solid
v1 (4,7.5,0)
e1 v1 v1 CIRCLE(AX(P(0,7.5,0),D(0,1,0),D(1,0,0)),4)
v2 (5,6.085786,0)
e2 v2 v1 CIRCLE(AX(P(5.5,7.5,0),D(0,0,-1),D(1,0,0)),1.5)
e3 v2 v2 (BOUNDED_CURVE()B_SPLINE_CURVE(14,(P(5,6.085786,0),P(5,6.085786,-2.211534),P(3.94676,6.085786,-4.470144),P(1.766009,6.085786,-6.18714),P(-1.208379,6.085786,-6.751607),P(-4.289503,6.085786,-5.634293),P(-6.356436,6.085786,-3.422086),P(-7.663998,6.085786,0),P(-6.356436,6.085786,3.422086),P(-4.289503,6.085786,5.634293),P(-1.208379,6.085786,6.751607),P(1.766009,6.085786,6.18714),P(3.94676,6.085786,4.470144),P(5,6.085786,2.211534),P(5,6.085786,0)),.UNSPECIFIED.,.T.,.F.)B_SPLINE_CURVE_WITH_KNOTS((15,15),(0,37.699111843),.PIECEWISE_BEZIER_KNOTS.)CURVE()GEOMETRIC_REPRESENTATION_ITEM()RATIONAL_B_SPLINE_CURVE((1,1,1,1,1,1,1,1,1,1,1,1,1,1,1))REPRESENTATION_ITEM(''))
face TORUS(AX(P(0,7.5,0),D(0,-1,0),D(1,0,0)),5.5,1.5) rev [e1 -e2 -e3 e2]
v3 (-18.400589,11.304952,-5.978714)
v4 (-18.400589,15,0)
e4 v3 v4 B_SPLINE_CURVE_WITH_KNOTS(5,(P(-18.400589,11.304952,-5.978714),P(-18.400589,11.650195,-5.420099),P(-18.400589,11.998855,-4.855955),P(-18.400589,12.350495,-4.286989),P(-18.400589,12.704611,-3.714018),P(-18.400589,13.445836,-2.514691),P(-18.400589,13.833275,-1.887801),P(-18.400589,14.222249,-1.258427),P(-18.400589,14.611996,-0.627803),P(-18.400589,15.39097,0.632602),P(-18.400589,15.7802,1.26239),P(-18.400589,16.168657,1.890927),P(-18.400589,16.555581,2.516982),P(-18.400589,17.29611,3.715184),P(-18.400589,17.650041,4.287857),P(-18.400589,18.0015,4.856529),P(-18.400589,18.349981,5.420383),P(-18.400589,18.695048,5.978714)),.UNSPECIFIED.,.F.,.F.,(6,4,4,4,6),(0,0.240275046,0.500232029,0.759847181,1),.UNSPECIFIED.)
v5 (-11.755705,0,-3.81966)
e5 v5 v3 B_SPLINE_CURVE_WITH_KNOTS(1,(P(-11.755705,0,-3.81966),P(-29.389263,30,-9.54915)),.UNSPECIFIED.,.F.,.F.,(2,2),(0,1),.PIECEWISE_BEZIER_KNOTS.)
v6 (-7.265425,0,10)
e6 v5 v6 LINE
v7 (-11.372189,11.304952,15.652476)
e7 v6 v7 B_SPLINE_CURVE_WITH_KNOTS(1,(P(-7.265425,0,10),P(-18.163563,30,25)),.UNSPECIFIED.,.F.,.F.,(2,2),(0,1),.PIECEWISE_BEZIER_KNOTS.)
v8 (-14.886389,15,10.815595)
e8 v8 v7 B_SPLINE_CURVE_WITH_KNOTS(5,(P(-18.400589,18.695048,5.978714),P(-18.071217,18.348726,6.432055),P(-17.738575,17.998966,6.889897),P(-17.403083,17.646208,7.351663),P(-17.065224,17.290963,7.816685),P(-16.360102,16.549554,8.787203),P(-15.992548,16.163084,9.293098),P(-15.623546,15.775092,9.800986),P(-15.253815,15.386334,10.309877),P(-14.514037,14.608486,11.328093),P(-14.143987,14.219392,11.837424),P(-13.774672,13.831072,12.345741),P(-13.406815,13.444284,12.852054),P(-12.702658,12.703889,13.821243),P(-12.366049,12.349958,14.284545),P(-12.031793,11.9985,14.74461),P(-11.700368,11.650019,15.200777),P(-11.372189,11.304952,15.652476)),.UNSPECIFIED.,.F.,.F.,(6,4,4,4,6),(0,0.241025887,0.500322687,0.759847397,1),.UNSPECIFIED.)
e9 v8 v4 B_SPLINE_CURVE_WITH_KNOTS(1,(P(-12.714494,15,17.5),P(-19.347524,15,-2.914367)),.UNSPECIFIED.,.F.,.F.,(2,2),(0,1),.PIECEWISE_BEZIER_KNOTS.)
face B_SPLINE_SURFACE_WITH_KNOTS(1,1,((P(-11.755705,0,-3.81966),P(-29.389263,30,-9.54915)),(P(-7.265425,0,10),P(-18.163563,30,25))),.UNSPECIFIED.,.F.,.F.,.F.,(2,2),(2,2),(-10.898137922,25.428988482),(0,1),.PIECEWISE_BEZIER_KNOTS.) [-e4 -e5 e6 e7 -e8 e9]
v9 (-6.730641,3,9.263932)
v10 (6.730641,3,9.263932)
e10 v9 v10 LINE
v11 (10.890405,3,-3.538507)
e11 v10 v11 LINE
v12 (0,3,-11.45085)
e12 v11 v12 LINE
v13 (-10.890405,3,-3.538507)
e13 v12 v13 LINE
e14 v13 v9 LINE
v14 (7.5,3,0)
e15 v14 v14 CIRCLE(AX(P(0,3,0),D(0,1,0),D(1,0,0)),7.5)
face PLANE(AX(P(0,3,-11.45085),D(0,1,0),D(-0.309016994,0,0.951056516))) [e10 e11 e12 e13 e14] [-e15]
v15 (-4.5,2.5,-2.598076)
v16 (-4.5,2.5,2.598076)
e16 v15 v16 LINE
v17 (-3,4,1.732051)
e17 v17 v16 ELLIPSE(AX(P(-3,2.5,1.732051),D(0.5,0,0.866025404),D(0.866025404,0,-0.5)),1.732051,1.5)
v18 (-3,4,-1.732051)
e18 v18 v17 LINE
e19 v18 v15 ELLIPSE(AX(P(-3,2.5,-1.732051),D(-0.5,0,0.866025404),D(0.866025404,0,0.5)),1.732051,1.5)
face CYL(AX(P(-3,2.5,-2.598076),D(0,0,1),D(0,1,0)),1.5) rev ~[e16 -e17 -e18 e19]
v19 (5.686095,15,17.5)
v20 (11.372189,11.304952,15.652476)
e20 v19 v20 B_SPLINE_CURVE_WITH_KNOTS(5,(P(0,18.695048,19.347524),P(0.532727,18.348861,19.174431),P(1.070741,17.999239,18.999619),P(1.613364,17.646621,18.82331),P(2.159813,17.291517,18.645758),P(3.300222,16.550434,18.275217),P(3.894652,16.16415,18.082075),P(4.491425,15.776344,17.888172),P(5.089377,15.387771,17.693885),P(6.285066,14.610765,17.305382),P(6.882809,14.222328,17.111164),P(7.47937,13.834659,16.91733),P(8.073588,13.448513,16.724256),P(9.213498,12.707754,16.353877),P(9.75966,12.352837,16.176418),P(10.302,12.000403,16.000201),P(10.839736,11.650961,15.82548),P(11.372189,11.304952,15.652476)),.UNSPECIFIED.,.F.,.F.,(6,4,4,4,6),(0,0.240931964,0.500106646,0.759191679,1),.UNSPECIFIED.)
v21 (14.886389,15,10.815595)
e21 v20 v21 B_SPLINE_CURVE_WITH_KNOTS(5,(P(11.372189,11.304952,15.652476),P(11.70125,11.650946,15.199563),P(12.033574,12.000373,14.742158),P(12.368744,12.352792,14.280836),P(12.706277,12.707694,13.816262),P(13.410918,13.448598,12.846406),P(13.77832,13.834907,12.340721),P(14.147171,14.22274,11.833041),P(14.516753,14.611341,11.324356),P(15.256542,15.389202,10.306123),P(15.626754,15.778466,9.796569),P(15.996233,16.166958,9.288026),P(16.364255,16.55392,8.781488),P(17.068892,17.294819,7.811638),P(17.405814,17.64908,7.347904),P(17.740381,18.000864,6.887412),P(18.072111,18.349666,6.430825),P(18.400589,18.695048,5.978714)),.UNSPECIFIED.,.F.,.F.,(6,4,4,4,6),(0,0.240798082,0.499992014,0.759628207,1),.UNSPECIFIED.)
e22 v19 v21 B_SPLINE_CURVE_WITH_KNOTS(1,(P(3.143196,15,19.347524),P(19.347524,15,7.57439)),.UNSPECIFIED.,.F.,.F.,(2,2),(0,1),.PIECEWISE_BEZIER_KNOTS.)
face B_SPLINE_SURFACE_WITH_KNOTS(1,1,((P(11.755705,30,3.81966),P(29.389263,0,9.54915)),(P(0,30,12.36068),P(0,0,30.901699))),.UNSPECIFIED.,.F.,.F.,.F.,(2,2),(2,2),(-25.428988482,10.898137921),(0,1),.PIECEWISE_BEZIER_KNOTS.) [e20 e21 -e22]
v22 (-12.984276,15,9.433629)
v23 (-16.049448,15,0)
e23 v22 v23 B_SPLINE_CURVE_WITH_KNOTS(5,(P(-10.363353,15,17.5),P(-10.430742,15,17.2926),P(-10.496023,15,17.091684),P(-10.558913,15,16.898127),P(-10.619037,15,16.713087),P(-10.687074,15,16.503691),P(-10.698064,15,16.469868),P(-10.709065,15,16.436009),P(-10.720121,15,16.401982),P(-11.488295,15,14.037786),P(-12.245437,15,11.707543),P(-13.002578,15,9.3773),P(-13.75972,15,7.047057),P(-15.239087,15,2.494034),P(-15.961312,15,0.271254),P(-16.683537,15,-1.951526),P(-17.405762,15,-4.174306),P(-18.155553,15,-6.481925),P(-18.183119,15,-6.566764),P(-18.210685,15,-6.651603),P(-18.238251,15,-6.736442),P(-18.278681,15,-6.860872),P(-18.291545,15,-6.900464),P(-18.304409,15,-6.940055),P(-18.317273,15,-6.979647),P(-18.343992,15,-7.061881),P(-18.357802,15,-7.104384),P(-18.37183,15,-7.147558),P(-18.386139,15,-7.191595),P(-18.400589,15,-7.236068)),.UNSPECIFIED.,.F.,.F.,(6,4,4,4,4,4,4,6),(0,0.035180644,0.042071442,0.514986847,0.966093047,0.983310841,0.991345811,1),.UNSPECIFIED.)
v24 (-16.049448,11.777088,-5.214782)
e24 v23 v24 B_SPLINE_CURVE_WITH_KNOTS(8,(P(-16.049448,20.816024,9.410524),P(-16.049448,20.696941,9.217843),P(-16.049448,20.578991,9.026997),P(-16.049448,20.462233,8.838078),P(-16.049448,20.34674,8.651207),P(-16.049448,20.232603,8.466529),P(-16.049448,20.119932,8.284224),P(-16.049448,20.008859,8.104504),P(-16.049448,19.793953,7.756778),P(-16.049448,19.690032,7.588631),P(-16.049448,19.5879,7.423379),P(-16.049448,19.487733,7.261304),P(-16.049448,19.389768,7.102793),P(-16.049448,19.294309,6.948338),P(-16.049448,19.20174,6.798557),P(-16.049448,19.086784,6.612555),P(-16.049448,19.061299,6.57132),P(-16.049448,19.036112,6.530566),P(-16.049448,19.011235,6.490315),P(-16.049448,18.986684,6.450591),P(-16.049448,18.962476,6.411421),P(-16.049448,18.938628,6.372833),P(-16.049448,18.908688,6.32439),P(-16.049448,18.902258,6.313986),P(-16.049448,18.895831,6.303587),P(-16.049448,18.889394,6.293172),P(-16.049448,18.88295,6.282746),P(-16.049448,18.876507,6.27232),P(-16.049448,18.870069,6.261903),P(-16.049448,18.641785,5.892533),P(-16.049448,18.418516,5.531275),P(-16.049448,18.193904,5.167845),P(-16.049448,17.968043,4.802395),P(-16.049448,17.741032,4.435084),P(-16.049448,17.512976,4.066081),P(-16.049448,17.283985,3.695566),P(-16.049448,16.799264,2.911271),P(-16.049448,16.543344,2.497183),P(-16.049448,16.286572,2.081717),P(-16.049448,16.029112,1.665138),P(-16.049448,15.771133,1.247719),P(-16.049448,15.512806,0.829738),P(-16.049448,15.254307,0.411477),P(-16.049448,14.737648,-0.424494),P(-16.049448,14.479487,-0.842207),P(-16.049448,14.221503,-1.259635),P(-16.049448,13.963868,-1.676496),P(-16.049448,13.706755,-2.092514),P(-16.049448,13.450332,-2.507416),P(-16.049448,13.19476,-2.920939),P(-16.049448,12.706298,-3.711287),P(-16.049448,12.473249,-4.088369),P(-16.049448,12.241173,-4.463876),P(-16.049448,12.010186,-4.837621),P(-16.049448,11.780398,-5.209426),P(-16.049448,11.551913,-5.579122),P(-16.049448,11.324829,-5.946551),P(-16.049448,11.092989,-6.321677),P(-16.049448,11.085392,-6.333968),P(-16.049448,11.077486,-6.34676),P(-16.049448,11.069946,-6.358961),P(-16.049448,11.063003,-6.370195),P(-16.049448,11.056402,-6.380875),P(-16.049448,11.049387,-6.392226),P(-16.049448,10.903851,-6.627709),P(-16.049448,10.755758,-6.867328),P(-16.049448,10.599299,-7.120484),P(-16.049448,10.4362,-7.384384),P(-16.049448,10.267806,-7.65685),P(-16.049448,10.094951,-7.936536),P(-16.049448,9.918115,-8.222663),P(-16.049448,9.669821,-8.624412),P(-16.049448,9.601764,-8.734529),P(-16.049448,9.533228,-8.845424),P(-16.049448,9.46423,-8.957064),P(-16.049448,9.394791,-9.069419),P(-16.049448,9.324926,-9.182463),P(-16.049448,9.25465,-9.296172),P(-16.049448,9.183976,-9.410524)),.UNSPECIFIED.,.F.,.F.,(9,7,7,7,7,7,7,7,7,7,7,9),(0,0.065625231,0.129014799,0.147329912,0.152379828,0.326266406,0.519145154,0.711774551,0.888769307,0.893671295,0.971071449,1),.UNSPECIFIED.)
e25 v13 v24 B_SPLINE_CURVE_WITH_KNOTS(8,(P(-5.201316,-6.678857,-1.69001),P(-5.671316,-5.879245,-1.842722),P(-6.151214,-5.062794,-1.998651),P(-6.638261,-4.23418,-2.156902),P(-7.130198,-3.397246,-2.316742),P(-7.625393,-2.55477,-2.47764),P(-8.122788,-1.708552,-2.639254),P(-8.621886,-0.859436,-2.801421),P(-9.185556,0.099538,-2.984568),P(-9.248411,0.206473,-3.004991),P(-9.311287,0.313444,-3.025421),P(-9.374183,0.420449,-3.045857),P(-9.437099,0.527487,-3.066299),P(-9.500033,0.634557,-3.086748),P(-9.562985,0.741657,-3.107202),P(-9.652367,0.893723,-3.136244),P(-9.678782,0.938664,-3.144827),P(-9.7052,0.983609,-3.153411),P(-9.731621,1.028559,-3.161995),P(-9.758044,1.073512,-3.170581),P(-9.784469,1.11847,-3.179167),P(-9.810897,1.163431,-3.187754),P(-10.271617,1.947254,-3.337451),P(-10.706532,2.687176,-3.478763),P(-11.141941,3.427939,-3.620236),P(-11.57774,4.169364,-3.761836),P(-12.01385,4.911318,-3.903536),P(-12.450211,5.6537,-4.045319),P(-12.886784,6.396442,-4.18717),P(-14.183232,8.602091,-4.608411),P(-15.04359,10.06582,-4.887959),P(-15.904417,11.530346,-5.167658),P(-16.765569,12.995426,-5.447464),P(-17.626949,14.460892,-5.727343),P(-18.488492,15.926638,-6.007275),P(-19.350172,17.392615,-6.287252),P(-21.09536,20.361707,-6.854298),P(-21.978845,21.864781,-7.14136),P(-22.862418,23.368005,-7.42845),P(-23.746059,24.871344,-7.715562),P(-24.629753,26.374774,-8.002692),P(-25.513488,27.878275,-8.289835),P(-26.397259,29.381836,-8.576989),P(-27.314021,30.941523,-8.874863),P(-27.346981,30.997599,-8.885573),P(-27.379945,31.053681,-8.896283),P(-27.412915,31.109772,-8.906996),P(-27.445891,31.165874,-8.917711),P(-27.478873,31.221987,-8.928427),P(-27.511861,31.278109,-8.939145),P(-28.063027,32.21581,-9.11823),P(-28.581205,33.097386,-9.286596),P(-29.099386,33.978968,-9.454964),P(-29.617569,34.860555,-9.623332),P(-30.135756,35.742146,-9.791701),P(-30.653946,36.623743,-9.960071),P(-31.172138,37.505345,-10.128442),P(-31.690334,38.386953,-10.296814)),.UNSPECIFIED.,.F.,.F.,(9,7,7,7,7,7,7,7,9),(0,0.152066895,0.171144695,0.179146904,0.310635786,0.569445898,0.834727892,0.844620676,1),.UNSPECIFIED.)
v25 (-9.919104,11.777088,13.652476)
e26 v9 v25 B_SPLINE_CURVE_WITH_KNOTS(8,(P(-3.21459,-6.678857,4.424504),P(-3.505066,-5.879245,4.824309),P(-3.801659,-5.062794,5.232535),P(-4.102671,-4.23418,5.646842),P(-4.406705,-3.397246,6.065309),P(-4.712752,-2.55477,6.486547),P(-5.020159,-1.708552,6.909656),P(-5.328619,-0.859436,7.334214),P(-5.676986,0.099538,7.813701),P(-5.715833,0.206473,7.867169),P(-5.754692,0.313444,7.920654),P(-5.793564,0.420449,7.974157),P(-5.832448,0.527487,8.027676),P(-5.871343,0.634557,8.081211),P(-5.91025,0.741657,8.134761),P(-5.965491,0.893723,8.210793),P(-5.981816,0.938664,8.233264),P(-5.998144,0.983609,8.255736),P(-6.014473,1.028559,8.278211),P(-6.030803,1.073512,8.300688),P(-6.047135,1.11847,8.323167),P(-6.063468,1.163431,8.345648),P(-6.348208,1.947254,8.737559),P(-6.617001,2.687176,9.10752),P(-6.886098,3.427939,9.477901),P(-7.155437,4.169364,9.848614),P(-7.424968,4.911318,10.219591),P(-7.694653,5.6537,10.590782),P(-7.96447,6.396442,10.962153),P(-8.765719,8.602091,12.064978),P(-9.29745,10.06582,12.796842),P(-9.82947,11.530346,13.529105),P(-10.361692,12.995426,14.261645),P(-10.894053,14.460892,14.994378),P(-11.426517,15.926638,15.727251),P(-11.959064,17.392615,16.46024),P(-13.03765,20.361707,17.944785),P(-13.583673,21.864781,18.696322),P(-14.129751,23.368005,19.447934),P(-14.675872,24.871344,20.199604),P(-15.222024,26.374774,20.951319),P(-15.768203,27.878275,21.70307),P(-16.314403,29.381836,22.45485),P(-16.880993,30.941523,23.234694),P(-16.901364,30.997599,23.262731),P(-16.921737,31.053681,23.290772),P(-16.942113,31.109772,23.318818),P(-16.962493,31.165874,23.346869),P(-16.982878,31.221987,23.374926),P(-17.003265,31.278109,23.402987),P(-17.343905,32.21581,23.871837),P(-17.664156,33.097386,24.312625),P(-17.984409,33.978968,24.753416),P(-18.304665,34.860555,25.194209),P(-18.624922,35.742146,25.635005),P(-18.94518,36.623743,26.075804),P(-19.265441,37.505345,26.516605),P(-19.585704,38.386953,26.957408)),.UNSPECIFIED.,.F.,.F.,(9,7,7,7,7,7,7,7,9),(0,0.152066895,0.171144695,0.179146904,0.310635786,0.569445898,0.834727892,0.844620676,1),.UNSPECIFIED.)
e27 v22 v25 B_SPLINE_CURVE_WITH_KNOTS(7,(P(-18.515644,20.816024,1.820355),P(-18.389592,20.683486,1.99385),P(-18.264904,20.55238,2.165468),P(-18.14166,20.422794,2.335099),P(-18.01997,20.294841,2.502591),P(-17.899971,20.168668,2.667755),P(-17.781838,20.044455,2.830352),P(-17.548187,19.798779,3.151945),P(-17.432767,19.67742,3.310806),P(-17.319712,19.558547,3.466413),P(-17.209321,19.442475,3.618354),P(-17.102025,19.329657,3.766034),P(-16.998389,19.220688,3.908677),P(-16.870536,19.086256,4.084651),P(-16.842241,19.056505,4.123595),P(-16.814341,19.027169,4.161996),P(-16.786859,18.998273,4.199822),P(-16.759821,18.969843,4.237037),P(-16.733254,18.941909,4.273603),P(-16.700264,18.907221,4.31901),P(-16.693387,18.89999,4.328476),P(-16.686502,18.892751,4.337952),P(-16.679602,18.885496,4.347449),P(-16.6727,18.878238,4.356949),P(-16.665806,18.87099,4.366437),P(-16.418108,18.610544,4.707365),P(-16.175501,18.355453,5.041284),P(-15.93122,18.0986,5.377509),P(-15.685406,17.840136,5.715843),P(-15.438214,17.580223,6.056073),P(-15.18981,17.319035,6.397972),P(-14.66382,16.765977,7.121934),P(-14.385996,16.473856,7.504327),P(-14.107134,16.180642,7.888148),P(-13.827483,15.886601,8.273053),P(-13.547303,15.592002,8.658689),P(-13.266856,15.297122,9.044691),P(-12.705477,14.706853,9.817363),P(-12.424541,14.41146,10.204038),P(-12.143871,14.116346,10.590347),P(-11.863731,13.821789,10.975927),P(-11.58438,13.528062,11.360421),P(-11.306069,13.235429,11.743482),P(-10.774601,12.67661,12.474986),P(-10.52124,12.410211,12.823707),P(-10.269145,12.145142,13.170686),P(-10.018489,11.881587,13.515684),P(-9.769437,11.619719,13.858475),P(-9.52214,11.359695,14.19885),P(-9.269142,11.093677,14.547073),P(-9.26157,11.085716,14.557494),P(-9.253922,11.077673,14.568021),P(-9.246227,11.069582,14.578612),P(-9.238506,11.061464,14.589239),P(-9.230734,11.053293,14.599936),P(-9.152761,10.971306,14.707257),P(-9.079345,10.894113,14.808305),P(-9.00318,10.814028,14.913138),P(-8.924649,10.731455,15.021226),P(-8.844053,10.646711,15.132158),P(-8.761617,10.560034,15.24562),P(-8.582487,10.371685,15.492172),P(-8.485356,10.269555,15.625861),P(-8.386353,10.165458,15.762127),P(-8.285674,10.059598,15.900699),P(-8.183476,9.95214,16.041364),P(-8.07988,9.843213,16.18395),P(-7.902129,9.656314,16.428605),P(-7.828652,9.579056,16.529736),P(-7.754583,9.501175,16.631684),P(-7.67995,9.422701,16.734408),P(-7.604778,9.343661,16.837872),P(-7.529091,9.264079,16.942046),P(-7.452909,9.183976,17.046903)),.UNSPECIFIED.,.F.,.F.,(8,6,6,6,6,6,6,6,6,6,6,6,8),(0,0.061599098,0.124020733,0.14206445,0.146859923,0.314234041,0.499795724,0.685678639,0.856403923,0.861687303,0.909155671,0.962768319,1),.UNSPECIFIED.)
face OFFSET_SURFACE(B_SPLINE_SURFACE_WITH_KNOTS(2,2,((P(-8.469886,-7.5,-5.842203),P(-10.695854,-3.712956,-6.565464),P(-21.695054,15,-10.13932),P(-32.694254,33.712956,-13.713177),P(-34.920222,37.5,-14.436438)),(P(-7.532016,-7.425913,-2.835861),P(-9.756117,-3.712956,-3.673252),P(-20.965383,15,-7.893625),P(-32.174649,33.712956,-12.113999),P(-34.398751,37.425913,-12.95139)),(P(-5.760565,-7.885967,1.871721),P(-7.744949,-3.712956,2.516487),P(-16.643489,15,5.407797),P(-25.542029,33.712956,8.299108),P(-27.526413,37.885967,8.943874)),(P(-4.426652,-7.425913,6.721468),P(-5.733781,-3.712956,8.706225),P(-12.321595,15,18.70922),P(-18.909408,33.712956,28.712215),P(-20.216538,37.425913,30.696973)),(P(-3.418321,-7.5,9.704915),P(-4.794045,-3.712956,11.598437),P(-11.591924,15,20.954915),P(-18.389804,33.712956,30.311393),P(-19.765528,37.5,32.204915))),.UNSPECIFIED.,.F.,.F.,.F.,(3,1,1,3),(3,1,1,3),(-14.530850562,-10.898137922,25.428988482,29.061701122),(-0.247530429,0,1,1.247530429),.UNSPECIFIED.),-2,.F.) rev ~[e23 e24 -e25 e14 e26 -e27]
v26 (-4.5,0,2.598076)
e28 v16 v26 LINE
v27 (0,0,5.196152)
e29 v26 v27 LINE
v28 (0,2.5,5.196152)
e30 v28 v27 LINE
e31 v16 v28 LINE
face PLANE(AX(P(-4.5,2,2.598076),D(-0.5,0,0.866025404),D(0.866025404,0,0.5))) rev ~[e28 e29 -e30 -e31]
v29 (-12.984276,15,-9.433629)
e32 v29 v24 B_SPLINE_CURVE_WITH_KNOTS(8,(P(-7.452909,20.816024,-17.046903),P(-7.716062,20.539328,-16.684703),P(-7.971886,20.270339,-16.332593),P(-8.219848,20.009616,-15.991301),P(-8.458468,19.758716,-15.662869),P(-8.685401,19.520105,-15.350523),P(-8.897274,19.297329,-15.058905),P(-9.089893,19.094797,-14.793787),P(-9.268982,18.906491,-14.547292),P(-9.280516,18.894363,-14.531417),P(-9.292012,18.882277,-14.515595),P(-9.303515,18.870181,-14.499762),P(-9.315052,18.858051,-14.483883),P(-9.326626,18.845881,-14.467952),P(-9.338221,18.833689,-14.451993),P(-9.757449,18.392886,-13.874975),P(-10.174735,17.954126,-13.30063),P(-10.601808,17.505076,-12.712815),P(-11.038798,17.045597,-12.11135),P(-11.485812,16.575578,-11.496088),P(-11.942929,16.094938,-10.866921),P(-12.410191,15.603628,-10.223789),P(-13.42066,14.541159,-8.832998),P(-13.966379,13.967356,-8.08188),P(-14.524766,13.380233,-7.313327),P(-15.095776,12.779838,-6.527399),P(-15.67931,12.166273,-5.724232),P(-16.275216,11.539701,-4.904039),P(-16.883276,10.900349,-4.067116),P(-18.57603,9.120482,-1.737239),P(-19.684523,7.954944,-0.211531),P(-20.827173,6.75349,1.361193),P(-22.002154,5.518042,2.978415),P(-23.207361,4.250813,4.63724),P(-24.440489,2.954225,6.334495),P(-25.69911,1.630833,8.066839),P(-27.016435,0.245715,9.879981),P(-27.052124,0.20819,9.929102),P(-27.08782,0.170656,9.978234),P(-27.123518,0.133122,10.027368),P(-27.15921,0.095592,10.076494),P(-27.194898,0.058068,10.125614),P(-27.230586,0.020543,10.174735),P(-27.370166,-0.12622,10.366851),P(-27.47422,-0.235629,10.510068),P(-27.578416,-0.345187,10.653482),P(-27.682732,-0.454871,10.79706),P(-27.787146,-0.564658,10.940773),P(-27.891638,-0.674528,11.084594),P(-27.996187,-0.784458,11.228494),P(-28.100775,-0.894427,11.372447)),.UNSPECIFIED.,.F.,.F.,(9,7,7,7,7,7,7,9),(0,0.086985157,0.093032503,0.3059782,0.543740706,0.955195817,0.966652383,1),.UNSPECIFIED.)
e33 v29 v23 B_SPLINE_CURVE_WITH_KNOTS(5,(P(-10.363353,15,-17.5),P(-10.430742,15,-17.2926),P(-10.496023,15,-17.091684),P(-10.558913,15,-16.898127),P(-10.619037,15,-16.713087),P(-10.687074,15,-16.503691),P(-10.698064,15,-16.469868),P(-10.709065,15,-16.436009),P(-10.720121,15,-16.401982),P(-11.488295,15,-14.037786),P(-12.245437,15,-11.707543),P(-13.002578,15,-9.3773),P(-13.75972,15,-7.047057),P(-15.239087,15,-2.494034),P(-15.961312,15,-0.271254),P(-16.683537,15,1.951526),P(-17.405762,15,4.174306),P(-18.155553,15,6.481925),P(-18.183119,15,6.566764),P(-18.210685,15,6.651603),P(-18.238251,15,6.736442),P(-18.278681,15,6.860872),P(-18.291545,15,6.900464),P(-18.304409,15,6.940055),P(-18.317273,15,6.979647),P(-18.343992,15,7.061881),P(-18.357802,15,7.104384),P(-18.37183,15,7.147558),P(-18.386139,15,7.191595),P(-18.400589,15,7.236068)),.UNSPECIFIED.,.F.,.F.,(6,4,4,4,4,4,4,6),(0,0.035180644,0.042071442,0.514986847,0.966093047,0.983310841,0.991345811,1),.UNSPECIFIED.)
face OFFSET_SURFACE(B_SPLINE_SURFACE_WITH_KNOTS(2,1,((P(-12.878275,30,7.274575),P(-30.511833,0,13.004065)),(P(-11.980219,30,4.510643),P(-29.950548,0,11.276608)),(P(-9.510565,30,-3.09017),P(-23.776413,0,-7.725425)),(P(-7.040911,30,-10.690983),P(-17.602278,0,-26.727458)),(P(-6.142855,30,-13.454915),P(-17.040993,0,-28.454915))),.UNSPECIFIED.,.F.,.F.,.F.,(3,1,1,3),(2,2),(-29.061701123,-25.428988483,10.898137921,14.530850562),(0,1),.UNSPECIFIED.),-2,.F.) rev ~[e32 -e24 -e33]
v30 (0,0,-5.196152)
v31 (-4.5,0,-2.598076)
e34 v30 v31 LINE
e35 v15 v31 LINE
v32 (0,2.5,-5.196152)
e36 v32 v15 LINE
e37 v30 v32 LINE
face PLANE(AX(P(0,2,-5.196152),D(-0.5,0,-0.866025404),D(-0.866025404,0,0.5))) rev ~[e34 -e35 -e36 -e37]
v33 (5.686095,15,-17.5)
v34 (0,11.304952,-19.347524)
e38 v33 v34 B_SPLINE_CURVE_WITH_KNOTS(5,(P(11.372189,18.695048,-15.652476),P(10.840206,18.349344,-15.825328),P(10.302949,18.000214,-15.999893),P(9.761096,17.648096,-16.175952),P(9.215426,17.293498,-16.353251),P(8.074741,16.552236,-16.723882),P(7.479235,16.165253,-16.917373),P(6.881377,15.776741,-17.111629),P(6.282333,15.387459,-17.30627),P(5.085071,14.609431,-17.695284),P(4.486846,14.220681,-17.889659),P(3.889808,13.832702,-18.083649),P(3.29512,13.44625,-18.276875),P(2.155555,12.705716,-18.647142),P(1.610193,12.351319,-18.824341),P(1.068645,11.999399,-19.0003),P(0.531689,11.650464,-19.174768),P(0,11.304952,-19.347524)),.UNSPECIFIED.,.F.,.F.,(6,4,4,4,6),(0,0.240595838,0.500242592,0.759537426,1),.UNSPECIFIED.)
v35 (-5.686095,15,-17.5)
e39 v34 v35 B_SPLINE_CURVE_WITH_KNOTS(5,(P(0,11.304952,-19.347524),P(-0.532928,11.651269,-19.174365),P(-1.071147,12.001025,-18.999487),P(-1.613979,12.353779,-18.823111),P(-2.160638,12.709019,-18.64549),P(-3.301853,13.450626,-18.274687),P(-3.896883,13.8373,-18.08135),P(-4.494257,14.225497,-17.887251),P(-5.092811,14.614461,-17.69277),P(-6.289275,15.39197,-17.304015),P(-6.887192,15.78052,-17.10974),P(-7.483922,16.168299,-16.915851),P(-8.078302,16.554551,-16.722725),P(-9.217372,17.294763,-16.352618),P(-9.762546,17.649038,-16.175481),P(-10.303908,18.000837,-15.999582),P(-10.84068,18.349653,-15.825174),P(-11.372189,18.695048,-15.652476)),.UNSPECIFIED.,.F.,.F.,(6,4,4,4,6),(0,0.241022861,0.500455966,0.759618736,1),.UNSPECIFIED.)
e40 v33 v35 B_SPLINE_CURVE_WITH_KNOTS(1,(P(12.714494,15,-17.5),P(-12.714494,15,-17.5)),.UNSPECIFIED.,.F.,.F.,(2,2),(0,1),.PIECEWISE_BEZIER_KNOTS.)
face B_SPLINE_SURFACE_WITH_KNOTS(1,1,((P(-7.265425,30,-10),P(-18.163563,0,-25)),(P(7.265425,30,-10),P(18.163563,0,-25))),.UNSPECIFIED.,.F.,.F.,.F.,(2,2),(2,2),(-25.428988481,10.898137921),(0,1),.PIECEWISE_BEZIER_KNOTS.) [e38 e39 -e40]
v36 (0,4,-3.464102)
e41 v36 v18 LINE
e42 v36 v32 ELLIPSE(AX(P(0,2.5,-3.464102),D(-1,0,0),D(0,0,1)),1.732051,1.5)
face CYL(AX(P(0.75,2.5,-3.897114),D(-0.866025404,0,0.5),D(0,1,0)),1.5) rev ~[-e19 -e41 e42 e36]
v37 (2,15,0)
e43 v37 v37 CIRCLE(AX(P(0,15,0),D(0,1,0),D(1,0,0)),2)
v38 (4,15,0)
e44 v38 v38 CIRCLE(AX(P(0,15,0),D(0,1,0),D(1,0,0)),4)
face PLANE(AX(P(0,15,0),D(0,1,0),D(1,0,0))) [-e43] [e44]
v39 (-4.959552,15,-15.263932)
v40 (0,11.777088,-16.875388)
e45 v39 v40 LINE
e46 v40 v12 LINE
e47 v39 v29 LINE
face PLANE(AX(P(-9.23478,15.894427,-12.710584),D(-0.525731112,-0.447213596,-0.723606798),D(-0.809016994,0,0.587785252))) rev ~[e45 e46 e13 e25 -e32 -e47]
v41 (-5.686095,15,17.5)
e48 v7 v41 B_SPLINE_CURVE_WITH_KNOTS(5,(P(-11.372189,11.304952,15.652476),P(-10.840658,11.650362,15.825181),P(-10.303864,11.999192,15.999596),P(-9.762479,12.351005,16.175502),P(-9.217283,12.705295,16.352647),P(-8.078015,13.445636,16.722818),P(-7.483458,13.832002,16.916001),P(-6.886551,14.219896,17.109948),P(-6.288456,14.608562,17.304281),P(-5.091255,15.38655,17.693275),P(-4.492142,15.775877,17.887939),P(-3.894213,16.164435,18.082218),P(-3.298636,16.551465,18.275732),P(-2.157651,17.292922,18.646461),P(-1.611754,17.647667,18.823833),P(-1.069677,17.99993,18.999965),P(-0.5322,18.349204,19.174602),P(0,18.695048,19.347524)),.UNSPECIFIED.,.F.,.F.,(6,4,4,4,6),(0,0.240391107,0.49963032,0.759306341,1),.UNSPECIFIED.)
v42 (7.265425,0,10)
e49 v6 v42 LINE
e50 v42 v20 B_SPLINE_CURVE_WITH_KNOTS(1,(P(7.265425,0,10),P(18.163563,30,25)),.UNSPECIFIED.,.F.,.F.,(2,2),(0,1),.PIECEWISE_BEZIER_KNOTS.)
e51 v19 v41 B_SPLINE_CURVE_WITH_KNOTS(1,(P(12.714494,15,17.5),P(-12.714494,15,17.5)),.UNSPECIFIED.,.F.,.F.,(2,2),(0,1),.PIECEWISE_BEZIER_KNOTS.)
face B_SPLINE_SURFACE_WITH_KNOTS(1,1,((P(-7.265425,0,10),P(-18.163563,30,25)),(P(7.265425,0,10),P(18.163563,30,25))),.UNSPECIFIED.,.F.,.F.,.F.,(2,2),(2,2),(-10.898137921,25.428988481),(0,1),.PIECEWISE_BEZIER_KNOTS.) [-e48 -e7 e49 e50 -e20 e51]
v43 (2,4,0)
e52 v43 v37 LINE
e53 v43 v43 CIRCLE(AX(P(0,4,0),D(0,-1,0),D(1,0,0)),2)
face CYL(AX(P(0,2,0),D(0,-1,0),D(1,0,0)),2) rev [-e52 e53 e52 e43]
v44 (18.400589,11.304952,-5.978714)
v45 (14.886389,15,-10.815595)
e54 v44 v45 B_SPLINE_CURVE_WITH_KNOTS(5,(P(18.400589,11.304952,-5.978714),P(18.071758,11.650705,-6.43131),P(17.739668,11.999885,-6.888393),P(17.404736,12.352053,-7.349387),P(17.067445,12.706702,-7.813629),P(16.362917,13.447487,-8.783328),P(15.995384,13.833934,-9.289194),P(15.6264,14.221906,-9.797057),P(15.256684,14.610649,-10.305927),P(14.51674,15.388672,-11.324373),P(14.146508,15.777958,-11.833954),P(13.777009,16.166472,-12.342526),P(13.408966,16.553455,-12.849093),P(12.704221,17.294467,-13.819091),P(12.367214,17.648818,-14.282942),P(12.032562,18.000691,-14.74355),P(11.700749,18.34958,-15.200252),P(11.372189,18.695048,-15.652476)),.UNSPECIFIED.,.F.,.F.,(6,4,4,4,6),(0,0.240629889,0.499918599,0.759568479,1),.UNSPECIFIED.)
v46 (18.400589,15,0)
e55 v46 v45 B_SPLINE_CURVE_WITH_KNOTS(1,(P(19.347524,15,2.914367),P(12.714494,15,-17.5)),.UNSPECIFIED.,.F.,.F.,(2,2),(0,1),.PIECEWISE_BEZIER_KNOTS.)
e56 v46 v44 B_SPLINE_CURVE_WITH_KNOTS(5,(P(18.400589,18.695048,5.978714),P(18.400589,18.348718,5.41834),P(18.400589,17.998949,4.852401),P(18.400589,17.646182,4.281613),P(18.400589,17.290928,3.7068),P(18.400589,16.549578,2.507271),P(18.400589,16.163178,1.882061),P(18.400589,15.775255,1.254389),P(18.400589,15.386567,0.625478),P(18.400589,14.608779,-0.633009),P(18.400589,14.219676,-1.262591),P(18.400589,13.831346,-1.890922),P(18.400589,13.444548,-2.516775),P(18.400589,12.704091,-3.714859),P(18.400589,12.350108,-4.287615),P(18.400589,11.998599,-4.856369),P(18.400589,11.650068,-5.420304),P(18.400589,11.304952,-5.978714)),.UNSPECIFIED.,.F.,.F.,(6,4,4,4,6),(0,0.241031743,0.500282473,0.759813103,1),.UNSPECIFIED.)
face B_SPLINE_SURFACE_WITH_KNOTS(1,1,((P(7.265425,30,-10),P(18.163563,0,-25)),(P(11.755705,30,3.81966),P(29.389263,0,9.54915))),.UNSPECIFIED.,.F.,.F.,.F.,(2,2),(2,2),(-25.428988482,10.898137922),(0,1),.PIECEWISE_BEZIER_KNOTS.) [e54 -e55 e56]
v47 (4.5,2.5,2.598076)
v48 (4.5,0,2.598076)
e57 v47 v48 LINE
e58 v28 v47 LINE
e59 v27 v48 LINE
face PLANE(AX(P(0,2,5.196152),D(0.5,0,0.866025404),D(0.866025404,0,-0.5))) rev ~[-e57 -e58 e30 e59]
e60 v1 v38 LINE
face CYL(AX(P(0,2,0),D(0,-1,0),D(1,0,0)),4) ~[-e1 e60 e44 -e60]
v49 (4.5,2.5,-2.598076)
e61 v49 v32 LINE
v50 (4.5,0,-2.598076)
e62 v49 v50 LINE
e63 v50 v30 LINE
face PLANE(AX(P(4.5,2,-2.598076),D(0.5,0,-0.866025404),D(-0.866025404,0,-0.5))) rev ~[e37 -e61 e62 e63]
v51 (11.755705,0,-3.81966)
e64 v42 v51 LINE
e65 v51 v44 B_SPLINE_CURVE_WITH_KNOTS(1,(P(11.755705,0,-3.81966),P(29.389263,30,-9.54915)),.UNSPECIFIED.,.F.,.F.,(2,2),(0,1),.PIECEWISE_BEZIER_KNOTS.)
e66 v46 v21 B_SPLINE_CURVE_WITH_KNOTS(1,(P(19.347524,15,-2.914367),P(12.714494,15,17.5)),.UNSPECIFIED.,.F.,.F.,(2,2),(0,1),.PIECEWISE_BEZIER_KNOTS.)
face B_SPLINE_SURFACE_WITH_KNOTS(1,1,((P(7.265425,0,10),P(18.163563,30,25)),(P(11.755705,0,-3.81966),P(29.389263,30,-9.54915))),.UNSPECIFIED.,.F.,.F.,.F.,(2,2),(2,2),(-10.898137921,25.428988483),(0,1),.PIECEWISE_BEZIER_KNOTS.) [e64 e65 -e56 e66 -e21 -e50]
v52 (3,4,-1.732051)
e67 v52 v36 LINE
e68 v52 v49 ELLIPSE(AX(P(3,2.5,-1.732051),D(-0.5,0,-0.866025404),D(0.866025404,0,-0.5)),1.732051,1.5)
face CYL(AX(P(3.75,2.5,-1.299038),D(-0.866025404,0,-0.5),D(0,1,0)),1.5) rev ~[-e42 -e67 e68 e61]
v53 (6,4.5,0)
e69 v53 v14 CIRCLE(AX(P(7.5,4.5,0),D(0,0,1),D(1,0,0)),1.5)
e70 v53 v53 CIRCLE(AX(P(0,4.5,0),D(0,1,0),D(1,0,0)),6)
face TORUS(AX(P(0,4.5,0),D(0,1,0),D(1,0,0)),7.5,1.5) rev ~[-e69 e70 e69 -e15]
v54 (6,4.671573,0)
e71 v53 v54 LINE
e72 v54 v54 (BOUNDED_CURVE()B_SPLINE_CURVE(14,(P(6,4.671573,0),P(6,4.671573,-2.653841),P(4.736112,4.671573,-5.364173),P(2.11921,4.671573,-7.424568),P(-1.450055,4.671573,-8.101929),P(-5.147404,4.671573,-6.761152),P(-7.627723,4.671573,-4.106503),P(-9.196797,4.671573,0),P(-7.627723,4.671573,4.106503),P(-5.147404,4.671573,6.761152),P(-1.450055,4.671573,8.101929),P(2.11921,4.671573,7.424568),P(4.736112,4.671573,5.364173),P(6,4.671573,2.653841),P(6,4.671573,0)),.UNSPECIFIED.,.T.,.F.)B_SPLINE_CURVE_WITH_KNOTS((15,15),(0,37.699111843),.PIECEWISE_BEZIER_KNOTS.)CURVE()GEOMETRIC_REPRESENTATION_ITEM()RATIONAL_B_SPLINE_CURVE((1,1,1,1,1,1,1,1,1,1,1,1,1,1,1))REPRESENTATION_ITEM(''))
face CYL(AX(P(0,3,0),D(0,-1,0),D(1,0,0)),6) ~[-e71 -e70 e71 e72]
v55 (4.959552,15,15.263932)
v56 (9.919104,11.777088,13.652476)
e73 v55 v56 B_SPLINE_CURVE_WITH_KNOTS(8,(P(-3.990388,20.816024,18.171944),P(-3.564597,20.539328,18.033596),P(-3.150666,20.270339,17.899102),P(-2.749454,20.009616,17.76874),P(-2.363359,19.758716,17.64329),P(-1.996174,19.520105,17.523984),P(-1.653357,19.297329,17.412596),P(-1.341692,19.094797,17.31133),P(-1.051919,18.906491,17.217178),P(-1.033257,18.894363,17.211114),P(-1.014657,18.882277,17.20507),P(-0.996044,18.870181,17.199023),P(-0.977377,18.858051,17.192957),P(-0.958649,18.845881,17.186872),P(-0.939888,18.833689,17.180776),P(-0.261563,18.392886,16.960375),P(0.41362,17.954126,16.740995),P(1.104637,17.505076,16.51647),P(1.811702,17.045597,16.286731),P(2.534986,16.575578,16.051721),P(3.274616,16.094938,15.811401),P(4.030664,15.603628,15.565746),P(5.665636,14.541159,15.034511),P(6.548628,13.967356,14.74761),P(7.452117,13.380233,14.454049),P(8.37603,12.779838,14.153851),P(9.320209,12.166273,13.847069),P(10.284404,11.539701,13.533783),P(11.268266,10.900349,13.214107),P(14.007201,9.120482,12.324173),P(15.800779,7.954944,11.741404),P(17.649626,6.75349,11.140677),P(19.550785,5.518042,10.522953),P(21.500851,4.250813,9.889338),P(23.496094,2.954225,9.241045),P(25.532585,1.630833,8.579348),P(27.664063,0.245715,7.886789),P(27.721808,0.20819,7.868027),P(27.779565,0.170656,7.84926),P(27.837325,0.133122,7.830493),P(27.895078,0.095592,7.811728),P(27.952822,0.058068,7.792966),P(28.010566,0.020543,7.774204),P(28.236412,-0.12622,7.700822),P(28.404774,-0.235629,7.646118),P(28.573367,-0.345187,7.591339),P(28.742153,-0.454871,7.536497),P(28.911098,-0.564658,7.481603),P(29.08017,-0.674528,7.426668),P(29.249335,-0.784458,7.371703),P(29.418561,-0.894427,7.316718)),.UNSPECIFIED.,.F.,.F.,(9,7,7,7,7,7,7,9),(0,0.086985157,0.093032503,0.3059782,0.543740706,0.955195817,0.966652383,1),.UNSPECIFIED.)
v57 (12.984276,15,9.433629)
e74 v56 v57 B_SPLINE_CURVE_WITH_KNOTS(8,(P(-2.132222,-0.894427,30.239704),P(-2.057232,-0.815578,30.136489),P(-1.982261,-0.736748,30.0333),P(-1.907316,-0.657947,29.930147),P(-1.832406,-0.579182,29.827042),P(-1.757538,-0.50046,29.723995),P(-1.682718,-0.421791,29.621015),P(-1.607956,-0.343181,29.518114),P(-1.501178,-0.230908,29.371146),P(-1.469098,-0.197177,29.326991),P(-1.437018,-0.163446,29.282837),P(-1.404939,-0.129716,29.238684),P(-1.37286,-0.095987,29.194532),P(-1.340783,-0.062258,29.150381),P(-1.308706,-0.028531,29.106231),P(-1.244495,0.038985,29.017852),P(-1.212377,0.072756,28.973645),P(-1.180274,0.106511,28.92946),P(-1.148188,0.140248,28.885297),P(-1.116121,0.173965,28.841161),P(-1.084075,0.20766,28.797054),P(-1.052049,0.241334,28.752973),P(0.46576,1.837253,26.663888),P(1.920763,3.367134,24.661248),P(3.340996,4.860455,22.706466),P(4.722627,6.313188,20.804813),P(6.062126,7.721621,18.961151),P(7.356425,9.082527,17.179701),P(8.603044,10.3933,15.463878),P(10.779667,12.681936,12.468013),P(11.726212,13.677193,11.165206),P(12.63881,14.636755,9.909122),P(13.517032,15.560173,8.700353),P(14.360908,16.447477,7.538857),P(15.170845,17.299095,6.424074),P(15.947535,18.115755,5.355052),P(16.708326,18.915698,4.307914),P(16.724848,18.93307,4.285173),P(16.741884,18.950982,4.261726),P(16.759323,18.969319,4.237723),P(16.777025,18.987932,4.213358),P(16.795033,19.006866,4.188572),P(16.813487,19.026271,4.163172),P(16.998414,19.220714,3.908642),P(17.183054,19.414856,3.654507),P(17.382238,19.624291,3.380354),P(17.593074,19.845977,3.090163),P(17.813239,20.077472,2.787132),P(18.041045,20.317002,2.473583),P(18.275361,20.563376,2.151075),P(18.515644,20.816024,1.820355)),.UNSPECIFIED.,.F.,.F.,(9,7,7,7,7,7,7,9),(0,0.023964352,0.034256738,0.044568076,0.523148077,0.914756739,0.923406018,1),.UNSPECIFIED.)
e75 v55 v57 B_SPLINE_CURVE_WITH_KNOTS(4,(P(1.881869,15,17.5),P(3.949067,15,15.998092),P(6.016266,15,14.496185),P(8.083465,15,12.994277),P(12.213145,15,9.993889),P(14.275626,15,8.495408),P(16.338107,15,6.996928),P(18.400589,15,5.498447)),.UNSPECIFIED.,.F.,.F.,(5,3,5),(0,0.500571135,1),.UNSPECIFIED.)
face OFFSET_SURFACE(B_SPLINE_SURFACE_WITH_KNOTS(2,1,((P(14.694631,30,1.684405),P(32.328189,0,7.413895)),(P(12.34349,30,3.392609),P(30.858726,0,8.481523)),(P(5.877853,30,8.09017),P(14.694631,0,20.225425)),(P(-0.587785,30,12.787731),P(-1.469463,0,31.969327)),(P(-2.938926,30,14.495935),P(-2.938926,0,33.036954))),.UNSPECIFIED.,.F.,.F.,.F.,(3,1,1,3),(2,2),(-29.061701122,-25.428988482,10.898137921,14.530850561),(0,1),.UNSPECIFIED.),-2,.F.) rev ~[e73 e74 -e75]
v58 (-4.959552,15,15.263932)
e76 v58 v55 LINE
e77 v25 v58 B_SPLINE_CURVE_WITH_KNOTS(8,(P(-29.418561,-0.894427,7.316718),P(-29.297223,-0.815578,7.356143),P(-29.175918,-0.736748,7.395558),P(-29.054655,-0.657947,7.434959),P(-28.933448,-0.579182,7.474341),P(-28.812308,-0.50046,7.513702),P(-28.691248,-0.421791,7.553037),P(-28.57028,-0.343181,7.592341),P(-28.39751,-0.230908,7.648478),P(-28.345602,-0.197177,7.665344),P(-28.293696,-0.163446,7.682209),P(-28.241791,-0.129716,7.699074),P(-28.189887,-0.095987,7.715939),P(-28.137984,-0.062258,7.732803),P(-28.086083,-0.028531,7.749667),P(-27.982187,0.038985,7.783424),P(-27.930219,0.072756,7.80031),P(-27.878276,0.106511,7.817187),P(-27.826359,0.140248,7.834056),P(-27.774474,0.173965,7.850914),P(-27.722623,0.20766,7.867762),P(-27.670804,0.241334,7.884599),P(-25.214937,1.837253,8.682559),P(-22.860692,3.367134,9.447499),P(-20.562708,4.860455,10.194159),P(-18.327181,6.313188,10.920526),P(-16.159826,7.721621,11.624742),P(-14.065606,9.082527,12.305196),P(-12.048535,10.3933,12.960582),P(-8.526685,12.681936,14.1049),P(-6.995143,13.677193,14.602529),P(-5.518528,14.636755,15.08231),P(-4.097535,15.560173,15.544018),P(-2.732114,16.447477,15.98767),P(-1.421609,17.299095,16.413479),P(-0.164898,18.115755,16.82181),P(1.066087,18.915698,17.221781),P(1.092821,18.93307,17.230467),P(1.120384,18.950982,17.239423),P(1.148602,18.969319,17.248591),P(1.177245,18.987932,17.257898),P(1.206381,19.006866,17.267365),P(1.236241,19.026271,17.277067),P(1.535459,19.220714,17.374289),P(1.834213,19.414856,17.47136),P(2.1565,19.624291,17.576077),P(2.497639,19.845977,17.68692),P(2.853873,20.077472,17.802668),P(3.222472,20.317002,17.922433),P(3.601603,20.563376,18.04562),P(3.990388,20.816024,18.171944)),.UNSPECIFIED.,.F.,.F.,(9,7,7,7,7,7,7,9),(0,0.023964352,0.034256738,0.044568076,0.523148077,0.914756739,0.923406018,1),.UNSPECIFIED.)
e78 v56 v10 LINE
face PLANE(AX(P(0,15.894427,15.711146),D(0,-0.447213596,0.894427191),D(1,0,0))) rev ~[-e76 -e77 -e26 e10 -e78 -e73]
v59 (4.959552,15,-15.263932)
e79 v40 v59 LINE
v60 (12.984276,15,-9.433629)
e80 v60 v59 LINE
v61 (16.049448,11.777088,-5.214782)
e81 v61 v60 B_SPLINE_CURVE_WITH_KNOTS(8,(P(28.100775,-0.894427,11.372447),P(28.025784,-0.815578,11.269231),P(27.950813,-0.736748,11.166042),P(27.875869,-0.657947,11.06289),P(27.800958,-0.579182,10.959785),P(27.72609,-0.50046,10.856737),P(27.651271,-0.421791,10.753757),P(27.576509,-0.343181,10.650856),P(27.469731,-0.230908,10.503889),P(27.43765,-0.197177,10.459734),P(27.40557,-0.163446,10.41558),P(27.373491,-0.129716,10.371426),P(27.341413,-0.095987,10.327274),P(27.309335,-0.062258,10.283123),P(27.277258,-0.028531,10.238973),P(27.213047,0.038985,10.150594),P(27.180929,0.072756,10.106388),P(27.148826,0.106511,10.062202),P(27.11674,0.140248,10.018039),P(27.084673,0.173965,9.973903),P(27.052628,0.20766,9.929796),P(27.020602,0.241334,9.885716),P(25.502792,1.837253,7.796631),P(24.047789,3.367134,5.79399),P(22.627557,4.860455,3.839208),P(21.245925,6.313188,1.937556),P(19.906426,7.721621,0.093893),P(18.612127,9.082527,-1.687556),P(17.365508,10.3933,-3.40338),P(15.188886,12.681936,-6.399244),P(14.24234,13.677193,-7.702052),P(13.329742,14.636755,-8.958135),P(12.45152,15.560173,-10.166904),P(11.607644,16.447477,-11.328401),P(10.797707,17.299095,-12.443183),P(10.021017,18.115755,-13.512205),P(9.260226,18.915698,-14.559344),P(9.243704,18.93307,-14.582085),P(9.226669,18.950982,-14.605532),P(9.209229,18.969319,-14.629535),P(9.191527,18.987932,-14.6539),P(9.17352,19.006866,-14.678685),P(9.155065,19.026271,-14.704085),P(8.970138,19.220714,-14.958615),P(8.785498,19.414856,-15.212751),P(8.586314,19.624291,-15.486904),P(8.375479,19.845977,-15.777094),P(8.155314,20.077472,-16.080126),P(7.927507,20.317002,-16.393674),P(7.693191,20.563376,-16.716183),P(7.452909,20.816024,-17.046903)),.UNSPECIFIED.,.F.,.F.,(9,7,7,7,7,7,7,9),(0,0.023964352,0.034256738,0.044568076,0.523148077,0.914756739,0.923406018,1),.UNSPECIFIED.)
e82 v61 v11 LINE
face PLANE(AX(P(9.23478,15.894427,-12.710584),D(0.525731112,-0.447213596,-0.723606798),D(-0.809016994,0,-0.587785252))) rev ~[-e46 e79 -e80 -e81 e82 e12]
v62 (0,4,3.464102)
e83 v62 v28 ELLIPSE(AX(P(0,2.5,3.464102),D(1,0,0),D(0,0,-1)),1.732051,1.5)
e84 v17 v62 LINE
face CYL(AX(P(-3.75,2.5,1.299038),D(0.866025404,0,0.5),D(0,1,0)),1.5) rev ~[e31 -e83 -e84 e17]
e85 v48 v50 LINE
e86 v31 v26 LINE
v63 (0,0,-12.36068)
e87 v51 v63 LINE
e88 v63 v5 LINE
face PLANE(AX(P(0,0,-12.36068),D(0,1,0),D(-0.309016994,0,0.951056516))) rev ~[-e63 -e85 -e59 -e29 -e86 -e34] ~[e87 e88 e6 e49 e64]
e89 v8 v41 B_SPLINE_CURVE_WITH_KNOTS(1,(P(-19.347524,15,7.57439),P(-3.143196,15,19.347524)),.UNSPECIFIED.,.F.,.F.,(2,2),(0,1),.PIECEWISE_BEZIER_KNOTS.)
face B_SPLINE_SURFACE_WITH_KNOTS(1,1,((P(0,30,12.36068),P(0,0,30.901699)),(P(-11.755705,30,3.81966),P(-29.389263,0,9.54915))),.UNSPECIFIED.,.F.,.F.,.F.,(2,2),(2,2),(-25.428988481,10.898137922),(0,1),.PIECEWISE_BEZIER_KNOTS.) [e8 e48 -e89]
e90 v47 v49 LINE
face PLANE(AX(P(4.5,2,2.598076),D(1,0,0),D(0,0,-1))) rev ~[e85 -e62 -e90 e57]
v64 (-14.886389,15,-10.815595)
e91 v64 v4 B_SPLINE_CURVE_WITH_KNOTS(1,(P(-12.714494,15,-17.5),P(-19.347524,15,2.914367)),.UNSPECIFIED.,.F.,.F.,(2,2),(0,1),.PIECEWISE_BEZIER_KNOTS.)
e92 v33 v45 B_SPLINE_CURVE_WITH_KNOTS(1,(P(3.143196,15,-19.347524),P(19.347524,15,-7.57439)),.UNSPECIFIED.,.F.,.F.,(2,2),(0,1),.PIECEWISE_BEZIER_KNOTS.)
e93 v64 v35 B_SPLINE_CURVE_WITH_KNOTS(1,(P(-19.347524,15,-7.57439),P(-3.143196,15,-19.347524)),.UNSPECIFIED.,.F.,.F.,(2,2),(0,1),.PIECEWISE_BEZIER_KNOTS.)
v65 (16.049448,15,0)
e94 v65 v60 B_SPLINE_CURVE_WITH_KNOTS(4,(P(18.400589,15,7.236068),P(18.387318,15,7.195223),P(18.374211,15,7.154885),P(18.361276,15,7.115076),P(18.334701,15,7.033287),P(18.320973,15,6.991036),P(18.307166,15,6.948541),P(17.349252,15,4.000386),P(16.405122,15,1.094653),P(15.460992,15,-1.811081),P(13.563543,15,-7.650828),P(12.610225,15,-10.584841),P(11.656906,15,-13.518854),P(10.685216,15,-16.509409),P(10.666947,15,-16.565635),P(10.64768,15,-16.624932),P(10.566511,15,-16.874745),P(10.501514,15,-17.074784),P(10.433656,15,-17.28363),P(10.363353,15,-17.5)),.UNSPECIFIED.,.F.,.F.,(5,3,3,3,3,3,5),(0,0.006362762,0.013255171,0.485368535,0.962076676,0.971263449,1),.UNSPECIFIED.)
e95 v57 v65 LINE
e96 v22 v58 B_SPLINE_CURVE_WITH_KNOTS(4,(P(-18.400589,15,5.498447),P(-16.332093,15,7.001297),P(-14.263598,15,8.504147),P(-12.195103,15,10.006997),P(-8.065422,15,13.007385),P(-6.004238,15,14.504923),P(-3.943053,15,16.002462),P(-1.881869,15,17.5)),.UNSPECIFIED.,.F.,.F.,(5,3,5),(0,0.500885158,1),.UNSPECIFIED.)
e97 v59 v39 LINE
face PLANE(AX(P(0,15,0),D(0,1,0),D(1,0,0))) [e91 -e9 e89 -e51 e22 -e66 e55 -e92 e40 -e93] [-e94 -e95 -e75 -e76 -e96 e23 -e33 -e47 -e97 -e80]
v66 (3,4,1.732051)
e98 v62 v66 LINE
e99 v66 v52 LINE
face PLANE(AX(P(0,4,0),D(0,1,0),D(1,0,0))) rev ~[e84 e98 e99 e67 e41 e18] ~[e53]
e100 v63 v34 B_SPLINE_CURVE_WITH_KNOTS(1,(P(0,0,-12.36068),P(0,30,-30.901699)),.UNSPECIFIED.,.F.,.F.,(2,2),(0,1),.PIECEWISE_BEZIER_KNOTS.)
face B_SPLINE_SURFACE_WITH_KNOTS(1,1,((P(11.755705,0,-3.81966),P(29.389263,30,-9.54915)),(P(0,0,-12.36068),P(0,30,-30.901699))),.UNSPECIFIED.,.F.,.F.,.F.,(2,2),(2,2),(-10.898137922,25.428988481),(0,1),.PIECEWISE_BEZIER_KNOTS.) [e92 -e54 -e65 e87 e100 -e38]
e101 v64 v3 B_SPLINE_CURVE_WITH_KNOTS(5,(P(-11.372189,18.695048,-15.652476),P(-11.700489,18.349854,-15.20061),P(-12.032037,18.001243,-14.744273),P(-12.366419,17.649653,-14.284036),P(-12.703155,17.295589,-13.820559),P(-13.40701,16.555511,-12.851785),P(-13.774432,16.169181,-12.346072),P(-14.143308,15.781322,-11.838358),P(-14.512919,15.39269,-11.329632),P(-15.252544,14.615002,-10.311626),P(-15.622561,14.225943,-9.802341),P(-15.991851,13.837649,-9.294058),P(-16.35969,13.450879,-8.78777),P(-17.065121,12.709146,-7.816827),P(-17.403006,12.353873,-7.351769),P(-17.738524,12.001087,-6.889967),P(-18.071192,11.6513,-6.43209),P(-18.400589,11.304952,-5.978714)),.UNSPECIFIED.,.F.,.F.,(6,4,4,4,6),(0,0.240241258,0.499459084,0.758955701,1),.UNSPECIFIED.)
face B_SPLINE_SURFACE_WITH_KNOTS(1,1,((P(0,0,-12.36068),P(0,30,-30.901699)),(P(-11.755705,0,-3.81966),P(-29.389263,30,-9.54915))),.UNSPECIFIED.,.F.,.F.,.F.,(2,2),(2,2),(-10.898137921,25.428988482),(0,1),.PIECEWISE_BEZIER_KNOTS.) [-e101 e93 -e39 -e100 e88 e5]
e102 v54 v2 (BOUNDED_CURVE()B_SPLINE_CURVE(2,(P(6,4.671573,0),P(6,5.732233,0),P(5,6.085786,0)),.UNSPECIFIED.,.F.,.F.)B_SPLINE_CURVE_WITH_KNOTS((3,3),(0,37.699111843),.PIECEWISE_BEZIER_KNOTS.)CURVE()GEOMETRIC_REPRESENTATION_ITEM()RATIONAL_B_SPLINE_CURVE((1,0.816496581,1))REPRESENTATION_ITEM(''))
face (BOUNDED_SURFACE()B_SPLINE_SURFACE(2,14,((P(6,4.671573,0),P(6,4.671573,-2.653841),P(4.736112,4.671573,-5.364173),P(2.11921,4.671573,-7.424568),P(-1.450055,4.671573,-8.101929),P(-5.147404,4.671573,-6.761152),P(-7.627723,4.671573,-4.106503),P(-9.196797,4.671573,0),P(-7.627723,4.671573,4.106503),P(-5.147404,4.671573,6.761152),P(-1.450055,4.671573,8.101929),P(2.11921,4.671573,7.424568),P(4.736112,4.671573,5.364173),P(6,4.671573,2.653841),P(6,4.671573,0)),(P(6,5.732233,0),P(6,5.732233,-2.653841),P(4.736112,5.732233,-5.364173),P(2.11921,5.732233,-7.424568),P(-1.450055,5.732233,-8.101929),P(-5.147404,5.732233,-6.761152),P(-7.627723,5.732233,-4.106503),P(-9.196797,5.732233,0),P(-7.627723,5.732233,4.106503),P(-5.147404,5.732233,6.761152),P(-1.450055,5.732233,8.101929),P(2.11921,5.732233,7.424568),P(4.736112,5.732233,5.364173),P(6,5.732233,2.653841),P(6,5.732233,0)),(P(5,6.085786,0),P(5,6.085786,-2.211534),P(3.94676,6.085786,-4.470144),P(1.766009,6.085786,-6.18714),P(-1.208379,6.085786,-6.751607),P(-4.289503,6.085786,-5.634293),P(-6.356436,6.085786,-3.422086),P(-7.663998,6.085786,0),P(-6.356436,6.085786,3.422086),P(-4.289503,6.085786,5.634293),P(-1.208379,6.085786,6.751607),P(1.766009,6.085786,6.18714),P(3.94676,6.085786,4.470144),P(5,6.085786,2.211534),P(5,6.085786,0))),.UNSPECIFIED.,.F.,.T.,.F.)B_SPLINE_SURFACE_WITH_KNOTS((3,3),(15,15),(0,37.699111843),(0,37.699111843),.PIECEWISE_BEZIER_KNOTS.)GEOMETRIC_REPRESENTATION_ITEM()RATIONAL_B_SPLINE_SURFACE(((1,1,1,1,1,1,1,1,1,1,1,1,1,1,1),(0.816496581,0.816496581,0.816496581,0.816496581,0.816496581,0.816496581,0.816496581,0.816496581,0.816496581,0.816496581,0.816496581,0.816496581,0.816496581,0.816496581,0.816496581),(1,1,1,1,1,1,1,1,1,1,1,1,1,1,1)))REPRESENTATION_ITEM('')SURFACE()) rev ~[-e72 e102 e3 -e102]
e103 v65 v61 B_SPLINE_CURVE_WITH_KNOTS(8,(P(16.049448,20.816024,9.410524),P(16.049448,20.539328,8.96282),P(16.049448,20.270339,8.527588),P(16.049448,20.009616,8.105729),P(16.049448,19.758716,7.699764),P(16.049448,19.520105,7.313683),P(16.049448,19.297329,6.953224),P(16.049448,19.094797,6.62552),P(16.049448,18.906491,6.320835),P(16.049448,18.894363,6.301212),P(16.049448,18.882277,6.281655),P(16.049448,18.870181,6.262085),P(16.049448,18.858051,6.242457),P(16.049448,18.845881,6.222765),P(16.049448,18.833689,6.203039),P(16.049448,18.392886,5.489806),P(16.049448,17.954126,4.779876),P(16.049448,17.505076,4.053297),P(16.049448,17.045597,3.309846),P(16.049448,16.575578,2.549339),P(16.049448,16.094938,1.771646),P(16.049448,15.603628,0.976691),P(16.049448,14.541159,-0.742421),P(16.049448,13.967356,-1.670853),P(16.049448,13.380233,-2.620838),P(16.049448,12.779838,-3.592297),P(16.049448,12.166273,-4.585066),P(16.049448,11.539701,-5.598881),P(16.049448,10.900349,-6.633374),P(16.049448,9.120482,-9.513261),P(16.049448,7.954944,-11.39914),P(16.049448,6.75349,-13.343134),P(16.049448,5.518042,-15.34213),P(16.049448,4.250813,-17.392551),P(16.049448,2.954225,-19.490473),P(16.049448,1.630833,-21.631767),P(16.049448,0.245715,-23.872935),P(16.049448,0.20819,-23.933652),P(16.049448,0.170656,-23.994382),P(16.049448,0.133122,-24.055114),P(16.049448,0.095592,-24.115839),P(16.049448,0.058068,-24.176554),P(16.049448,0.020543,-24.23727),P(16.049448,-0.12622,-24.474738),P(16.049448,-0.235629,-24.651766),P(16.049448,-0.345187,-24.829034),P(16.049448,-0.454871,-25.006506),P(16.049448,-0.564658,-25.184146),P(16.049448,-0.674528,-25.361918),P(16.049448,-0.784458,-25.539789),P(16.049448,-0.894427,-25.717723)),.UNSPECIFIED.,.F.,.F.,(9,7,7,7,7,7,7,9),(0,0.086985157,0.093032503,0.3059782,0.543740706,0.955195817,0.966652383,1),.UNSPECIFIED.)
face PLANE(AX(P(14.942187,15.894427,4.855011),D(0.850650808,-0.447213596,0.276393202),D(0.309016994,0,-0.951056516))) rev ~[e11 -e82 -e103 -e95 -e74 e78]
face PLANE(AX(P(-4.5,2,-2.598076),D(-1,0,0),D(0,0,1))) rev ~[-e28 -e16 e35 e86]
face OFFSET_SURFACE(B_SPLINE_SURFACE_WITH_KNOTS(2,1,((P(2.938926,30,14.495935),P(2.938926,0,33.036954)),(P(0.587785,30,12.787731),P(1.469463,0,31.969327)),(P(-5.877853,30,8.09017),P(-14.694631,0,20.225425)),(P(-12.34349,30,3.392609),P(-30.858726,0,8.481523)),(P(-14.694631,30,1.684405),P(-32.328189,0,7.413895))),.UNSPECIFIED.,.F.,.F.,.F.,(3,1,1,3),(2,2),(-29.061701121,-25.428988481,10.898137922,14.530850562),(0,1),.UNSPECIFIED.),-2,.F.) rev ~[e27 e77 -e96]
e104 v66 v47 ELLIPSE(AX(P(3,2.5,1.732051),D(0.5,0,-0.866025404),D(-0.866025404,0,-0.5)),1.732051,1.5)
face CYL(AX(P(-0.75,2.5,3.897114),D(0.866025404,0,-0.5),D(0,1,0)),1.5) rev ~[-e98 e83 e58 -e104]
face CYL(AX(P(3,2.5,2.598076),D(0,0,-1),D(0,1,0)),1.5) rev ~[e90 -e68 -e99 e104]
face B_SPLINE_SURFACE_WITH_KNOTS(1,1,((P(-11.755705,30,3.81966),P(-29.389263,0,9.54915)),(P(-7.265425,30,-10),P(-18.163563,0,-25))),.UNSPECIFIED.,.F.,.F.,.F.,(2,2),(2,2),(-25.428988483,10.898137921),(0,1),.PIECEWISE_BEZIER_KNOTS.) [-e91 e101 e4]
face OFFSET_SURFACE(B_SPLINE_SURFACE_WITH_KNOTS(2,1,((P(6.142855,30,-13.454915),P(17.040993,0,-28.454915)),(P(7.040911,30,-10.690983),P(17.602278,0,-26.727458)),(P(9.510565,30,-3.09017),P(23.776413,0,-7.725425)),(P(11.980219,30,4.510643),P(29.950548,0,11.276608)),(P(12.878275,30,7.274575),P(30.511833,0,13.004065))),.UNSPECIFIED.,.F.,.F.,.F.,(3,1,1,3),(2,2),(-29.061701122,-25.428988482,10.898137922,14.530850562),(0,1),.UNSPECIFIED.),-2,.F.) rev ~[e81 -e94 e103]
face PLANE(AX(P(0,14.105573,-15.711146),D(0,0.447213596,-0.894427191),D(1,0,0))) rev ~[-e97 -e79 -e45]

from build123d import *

# Parameters (mm, degrees)
BOSS_EXTRUDE1_DEPTH     = 30
BOSS_EXTRUDE1_TAPER     = -26.56505118
SKETCH3_OUTSIDE_W       = 108.076
SKETCH3_OUTSIDE_H       = 105.2
CUT_EXTRUDE1_DEPTH      = 30
CUT_EXTRUDE1_TAPER      = 26.56505118
SKETCH5_R               = 19.347524159
CUT_EXTRUDE2_DEPTH      = 25
SHELL1_T                = -2
SKETCH6_R               = 4
SKETCH6_R_2             = 2
BOSS_EXTRUDE2_DEPTH     = 13
SKETCH10_R              = 6
SKETCH10_R_2            = 4
BOSS_EXTRUDE4_DEPTH     = 3
FILLET5_R               = 1.5
CUT_EXTRUDE3_START      = -1
CUT_EXTRUDE3_DEPTH      = 2
CUT_EXTRUDE3_DEPTH_BACK = 2
FILLET6_R               = 1.5


with BuildPart() as part:
    # Sketch1 → Boss-Extrude1 (new body)
    with BuildSketch(Plane(origin=(0, 0, 0), x_dir=(1, 0, 0), z_dir=(0, 1, 0))):
        Polygon((0, 12.360679775), (-11.755705046, 3.819660113), (-7.26542528, -10), (7.26542528, -10), (11.755705046, 3.819660113), align=None)
    extrude(amount=BOSS_EXTRUDE1_DEPTH, taper=BOSS_EXTRUDE1_TAPER)

    # Sketch3 outside → Cut-Extrude1 (cut)
    with BuildSketch(Plane(origin=(0, 30, 0), x_dir=(1, 0, 0), z_dir=(0, 1, 0))):
        with Locations((0, 2.951)):
            Rectangle(SKETCH3_OUTSIDE_W, SKETCH3_OUTSIDE_H)
        Polygon((7.26542528, 10), (-7.26542528, 10), (-11.755705046, -3.819660113), (0, -12.360679775), (11.755705046, -3.819660113), align=None, mode=Mode.SUBTRACT)
    extrude(amount=-CUT_EXTRUDE1_DEPTH, taper=CUT_EXTRUDE1_TAPER, mode=Mode.SUBTRACT)

    # Sketch5 → Cut-Extrude2 (cut)
    with BuildSketch(Plane(origin=(0, 15, 0), x_dir=(1, 0, 0), z_dir=(0, 1, 0))):
        Circle(SKETCH5_R)
    extrude(amount=CUT_EXTRUDE2_DEPTH, mode=Mode.SUBTRACT)

    # Shell1
    shell1_openings = [part.faces().sort_by_distance(p)[0] for p in [
        (0, 15, 0),
    ]]
    offset(amount=SHELL1_T, openings=shell1_openings, kind=Kind.INTERSECTION)

    # Sketch6 → Boss-Extrude2 (add)
    with BuildSketch(Plane(origin=(0, 2, 0), x_dir=(1, 0, 0), z_dir=(0, 1, 0))):
        Circle(SKETCH6_R)
        Circle(SKETCH6_R_2, mode=Mode.SUBTRACT)
    extrude(amount=BOSS_EXTRUDE2_DEPTH)

    # Sketch12 → Loft1 section 0
    with BuildSketch(Plane(origin=(0, 3, 0), x_dir=(1, 0, 0), z_dir=(0, 1, 0))):
        Polygon((0, 11.450849719), (-10.890405242, 3.538507163), (-6.730640591, -9.263932023), (6.730640591, -9.263932023), (10.890405242, 3.538507163), align=None)
    # Sketch13 → Loft1 section 1
    with BuildSketch(Plane(origin=(0, 2, 0), x_dir=(1, 0, 0), z_dir=(0, 1, 0))):
        Polygon((10.30261999, 3.347524158), (0, 10.83281573), (-10.30261999, 3.347524158), (-6.367369327, -8.763932023), (6.367369327, -8.763932023), align=None)
    loft()

    # Sketch10 → Boss-Extrude4 (add)
    with BuildSketch(Plane(origin=(0, 3, 0), x_dir=(1, 0, 0), z_dir=(0, 1, 0))):
        Circle(SKETCH10_R)
        Circle(SKETCH10_R_2, mode=Mode.SUBTRACT)
    extrude(amount=BOSS_EXTRUDE4_DEPTH)

    # Fillet5
    fillet5_edges = [part.edges().sort_by_distance(p)[0] for p in [
        (-6, 3, 0),
        (-4, 6, 0),
    ]]
    fillet(fillet5_edges, radius=FILLET5_R)

    # Sketch10<3> → Cut-Extrude3 (cut, two sides)
    with BuildSketch(Plane(origin=(0, 3, 0), x_dir=(1, 0, 0), z_dir=(0, 1, 0)).offset(CUT_EXTRUDE3_START)) as cut_extrude3_sk:
        Polygon((0, 5.196152423), (-4.5, 2.598076211), (-4.5, -2.598076211), (0, -5.196152423), (4.5, -2.598076211), (4.5, 2.598076211), align=None)
    extrude(amount=CUT_EXTRUDE3_DEPTH, mode=Mode.SUBTRACT)
    extrude(cut_extrude3_sk.sketch, amount=-CUT_EXTRUDE3_DEPTH_BACK, mode=Mode.SUBTRACT)

    # Fillet6
    fillet6_edges = [part.edges().sort_by_distance(p)[0] for p in [
        (-6, 6, 0),
        (4.5, 4, 0),
        (2.25, 4, 3.897114317),
        (-2.25, 4, 3.897114317),
        (-4.5, 4, 0),
        (-2.25, 4, -3.897114317),
        (2.25, 4, -3.897114317),
    ]]
    fillet(fillet6_edges, radius=FILLET6_R)


solid = part.part
